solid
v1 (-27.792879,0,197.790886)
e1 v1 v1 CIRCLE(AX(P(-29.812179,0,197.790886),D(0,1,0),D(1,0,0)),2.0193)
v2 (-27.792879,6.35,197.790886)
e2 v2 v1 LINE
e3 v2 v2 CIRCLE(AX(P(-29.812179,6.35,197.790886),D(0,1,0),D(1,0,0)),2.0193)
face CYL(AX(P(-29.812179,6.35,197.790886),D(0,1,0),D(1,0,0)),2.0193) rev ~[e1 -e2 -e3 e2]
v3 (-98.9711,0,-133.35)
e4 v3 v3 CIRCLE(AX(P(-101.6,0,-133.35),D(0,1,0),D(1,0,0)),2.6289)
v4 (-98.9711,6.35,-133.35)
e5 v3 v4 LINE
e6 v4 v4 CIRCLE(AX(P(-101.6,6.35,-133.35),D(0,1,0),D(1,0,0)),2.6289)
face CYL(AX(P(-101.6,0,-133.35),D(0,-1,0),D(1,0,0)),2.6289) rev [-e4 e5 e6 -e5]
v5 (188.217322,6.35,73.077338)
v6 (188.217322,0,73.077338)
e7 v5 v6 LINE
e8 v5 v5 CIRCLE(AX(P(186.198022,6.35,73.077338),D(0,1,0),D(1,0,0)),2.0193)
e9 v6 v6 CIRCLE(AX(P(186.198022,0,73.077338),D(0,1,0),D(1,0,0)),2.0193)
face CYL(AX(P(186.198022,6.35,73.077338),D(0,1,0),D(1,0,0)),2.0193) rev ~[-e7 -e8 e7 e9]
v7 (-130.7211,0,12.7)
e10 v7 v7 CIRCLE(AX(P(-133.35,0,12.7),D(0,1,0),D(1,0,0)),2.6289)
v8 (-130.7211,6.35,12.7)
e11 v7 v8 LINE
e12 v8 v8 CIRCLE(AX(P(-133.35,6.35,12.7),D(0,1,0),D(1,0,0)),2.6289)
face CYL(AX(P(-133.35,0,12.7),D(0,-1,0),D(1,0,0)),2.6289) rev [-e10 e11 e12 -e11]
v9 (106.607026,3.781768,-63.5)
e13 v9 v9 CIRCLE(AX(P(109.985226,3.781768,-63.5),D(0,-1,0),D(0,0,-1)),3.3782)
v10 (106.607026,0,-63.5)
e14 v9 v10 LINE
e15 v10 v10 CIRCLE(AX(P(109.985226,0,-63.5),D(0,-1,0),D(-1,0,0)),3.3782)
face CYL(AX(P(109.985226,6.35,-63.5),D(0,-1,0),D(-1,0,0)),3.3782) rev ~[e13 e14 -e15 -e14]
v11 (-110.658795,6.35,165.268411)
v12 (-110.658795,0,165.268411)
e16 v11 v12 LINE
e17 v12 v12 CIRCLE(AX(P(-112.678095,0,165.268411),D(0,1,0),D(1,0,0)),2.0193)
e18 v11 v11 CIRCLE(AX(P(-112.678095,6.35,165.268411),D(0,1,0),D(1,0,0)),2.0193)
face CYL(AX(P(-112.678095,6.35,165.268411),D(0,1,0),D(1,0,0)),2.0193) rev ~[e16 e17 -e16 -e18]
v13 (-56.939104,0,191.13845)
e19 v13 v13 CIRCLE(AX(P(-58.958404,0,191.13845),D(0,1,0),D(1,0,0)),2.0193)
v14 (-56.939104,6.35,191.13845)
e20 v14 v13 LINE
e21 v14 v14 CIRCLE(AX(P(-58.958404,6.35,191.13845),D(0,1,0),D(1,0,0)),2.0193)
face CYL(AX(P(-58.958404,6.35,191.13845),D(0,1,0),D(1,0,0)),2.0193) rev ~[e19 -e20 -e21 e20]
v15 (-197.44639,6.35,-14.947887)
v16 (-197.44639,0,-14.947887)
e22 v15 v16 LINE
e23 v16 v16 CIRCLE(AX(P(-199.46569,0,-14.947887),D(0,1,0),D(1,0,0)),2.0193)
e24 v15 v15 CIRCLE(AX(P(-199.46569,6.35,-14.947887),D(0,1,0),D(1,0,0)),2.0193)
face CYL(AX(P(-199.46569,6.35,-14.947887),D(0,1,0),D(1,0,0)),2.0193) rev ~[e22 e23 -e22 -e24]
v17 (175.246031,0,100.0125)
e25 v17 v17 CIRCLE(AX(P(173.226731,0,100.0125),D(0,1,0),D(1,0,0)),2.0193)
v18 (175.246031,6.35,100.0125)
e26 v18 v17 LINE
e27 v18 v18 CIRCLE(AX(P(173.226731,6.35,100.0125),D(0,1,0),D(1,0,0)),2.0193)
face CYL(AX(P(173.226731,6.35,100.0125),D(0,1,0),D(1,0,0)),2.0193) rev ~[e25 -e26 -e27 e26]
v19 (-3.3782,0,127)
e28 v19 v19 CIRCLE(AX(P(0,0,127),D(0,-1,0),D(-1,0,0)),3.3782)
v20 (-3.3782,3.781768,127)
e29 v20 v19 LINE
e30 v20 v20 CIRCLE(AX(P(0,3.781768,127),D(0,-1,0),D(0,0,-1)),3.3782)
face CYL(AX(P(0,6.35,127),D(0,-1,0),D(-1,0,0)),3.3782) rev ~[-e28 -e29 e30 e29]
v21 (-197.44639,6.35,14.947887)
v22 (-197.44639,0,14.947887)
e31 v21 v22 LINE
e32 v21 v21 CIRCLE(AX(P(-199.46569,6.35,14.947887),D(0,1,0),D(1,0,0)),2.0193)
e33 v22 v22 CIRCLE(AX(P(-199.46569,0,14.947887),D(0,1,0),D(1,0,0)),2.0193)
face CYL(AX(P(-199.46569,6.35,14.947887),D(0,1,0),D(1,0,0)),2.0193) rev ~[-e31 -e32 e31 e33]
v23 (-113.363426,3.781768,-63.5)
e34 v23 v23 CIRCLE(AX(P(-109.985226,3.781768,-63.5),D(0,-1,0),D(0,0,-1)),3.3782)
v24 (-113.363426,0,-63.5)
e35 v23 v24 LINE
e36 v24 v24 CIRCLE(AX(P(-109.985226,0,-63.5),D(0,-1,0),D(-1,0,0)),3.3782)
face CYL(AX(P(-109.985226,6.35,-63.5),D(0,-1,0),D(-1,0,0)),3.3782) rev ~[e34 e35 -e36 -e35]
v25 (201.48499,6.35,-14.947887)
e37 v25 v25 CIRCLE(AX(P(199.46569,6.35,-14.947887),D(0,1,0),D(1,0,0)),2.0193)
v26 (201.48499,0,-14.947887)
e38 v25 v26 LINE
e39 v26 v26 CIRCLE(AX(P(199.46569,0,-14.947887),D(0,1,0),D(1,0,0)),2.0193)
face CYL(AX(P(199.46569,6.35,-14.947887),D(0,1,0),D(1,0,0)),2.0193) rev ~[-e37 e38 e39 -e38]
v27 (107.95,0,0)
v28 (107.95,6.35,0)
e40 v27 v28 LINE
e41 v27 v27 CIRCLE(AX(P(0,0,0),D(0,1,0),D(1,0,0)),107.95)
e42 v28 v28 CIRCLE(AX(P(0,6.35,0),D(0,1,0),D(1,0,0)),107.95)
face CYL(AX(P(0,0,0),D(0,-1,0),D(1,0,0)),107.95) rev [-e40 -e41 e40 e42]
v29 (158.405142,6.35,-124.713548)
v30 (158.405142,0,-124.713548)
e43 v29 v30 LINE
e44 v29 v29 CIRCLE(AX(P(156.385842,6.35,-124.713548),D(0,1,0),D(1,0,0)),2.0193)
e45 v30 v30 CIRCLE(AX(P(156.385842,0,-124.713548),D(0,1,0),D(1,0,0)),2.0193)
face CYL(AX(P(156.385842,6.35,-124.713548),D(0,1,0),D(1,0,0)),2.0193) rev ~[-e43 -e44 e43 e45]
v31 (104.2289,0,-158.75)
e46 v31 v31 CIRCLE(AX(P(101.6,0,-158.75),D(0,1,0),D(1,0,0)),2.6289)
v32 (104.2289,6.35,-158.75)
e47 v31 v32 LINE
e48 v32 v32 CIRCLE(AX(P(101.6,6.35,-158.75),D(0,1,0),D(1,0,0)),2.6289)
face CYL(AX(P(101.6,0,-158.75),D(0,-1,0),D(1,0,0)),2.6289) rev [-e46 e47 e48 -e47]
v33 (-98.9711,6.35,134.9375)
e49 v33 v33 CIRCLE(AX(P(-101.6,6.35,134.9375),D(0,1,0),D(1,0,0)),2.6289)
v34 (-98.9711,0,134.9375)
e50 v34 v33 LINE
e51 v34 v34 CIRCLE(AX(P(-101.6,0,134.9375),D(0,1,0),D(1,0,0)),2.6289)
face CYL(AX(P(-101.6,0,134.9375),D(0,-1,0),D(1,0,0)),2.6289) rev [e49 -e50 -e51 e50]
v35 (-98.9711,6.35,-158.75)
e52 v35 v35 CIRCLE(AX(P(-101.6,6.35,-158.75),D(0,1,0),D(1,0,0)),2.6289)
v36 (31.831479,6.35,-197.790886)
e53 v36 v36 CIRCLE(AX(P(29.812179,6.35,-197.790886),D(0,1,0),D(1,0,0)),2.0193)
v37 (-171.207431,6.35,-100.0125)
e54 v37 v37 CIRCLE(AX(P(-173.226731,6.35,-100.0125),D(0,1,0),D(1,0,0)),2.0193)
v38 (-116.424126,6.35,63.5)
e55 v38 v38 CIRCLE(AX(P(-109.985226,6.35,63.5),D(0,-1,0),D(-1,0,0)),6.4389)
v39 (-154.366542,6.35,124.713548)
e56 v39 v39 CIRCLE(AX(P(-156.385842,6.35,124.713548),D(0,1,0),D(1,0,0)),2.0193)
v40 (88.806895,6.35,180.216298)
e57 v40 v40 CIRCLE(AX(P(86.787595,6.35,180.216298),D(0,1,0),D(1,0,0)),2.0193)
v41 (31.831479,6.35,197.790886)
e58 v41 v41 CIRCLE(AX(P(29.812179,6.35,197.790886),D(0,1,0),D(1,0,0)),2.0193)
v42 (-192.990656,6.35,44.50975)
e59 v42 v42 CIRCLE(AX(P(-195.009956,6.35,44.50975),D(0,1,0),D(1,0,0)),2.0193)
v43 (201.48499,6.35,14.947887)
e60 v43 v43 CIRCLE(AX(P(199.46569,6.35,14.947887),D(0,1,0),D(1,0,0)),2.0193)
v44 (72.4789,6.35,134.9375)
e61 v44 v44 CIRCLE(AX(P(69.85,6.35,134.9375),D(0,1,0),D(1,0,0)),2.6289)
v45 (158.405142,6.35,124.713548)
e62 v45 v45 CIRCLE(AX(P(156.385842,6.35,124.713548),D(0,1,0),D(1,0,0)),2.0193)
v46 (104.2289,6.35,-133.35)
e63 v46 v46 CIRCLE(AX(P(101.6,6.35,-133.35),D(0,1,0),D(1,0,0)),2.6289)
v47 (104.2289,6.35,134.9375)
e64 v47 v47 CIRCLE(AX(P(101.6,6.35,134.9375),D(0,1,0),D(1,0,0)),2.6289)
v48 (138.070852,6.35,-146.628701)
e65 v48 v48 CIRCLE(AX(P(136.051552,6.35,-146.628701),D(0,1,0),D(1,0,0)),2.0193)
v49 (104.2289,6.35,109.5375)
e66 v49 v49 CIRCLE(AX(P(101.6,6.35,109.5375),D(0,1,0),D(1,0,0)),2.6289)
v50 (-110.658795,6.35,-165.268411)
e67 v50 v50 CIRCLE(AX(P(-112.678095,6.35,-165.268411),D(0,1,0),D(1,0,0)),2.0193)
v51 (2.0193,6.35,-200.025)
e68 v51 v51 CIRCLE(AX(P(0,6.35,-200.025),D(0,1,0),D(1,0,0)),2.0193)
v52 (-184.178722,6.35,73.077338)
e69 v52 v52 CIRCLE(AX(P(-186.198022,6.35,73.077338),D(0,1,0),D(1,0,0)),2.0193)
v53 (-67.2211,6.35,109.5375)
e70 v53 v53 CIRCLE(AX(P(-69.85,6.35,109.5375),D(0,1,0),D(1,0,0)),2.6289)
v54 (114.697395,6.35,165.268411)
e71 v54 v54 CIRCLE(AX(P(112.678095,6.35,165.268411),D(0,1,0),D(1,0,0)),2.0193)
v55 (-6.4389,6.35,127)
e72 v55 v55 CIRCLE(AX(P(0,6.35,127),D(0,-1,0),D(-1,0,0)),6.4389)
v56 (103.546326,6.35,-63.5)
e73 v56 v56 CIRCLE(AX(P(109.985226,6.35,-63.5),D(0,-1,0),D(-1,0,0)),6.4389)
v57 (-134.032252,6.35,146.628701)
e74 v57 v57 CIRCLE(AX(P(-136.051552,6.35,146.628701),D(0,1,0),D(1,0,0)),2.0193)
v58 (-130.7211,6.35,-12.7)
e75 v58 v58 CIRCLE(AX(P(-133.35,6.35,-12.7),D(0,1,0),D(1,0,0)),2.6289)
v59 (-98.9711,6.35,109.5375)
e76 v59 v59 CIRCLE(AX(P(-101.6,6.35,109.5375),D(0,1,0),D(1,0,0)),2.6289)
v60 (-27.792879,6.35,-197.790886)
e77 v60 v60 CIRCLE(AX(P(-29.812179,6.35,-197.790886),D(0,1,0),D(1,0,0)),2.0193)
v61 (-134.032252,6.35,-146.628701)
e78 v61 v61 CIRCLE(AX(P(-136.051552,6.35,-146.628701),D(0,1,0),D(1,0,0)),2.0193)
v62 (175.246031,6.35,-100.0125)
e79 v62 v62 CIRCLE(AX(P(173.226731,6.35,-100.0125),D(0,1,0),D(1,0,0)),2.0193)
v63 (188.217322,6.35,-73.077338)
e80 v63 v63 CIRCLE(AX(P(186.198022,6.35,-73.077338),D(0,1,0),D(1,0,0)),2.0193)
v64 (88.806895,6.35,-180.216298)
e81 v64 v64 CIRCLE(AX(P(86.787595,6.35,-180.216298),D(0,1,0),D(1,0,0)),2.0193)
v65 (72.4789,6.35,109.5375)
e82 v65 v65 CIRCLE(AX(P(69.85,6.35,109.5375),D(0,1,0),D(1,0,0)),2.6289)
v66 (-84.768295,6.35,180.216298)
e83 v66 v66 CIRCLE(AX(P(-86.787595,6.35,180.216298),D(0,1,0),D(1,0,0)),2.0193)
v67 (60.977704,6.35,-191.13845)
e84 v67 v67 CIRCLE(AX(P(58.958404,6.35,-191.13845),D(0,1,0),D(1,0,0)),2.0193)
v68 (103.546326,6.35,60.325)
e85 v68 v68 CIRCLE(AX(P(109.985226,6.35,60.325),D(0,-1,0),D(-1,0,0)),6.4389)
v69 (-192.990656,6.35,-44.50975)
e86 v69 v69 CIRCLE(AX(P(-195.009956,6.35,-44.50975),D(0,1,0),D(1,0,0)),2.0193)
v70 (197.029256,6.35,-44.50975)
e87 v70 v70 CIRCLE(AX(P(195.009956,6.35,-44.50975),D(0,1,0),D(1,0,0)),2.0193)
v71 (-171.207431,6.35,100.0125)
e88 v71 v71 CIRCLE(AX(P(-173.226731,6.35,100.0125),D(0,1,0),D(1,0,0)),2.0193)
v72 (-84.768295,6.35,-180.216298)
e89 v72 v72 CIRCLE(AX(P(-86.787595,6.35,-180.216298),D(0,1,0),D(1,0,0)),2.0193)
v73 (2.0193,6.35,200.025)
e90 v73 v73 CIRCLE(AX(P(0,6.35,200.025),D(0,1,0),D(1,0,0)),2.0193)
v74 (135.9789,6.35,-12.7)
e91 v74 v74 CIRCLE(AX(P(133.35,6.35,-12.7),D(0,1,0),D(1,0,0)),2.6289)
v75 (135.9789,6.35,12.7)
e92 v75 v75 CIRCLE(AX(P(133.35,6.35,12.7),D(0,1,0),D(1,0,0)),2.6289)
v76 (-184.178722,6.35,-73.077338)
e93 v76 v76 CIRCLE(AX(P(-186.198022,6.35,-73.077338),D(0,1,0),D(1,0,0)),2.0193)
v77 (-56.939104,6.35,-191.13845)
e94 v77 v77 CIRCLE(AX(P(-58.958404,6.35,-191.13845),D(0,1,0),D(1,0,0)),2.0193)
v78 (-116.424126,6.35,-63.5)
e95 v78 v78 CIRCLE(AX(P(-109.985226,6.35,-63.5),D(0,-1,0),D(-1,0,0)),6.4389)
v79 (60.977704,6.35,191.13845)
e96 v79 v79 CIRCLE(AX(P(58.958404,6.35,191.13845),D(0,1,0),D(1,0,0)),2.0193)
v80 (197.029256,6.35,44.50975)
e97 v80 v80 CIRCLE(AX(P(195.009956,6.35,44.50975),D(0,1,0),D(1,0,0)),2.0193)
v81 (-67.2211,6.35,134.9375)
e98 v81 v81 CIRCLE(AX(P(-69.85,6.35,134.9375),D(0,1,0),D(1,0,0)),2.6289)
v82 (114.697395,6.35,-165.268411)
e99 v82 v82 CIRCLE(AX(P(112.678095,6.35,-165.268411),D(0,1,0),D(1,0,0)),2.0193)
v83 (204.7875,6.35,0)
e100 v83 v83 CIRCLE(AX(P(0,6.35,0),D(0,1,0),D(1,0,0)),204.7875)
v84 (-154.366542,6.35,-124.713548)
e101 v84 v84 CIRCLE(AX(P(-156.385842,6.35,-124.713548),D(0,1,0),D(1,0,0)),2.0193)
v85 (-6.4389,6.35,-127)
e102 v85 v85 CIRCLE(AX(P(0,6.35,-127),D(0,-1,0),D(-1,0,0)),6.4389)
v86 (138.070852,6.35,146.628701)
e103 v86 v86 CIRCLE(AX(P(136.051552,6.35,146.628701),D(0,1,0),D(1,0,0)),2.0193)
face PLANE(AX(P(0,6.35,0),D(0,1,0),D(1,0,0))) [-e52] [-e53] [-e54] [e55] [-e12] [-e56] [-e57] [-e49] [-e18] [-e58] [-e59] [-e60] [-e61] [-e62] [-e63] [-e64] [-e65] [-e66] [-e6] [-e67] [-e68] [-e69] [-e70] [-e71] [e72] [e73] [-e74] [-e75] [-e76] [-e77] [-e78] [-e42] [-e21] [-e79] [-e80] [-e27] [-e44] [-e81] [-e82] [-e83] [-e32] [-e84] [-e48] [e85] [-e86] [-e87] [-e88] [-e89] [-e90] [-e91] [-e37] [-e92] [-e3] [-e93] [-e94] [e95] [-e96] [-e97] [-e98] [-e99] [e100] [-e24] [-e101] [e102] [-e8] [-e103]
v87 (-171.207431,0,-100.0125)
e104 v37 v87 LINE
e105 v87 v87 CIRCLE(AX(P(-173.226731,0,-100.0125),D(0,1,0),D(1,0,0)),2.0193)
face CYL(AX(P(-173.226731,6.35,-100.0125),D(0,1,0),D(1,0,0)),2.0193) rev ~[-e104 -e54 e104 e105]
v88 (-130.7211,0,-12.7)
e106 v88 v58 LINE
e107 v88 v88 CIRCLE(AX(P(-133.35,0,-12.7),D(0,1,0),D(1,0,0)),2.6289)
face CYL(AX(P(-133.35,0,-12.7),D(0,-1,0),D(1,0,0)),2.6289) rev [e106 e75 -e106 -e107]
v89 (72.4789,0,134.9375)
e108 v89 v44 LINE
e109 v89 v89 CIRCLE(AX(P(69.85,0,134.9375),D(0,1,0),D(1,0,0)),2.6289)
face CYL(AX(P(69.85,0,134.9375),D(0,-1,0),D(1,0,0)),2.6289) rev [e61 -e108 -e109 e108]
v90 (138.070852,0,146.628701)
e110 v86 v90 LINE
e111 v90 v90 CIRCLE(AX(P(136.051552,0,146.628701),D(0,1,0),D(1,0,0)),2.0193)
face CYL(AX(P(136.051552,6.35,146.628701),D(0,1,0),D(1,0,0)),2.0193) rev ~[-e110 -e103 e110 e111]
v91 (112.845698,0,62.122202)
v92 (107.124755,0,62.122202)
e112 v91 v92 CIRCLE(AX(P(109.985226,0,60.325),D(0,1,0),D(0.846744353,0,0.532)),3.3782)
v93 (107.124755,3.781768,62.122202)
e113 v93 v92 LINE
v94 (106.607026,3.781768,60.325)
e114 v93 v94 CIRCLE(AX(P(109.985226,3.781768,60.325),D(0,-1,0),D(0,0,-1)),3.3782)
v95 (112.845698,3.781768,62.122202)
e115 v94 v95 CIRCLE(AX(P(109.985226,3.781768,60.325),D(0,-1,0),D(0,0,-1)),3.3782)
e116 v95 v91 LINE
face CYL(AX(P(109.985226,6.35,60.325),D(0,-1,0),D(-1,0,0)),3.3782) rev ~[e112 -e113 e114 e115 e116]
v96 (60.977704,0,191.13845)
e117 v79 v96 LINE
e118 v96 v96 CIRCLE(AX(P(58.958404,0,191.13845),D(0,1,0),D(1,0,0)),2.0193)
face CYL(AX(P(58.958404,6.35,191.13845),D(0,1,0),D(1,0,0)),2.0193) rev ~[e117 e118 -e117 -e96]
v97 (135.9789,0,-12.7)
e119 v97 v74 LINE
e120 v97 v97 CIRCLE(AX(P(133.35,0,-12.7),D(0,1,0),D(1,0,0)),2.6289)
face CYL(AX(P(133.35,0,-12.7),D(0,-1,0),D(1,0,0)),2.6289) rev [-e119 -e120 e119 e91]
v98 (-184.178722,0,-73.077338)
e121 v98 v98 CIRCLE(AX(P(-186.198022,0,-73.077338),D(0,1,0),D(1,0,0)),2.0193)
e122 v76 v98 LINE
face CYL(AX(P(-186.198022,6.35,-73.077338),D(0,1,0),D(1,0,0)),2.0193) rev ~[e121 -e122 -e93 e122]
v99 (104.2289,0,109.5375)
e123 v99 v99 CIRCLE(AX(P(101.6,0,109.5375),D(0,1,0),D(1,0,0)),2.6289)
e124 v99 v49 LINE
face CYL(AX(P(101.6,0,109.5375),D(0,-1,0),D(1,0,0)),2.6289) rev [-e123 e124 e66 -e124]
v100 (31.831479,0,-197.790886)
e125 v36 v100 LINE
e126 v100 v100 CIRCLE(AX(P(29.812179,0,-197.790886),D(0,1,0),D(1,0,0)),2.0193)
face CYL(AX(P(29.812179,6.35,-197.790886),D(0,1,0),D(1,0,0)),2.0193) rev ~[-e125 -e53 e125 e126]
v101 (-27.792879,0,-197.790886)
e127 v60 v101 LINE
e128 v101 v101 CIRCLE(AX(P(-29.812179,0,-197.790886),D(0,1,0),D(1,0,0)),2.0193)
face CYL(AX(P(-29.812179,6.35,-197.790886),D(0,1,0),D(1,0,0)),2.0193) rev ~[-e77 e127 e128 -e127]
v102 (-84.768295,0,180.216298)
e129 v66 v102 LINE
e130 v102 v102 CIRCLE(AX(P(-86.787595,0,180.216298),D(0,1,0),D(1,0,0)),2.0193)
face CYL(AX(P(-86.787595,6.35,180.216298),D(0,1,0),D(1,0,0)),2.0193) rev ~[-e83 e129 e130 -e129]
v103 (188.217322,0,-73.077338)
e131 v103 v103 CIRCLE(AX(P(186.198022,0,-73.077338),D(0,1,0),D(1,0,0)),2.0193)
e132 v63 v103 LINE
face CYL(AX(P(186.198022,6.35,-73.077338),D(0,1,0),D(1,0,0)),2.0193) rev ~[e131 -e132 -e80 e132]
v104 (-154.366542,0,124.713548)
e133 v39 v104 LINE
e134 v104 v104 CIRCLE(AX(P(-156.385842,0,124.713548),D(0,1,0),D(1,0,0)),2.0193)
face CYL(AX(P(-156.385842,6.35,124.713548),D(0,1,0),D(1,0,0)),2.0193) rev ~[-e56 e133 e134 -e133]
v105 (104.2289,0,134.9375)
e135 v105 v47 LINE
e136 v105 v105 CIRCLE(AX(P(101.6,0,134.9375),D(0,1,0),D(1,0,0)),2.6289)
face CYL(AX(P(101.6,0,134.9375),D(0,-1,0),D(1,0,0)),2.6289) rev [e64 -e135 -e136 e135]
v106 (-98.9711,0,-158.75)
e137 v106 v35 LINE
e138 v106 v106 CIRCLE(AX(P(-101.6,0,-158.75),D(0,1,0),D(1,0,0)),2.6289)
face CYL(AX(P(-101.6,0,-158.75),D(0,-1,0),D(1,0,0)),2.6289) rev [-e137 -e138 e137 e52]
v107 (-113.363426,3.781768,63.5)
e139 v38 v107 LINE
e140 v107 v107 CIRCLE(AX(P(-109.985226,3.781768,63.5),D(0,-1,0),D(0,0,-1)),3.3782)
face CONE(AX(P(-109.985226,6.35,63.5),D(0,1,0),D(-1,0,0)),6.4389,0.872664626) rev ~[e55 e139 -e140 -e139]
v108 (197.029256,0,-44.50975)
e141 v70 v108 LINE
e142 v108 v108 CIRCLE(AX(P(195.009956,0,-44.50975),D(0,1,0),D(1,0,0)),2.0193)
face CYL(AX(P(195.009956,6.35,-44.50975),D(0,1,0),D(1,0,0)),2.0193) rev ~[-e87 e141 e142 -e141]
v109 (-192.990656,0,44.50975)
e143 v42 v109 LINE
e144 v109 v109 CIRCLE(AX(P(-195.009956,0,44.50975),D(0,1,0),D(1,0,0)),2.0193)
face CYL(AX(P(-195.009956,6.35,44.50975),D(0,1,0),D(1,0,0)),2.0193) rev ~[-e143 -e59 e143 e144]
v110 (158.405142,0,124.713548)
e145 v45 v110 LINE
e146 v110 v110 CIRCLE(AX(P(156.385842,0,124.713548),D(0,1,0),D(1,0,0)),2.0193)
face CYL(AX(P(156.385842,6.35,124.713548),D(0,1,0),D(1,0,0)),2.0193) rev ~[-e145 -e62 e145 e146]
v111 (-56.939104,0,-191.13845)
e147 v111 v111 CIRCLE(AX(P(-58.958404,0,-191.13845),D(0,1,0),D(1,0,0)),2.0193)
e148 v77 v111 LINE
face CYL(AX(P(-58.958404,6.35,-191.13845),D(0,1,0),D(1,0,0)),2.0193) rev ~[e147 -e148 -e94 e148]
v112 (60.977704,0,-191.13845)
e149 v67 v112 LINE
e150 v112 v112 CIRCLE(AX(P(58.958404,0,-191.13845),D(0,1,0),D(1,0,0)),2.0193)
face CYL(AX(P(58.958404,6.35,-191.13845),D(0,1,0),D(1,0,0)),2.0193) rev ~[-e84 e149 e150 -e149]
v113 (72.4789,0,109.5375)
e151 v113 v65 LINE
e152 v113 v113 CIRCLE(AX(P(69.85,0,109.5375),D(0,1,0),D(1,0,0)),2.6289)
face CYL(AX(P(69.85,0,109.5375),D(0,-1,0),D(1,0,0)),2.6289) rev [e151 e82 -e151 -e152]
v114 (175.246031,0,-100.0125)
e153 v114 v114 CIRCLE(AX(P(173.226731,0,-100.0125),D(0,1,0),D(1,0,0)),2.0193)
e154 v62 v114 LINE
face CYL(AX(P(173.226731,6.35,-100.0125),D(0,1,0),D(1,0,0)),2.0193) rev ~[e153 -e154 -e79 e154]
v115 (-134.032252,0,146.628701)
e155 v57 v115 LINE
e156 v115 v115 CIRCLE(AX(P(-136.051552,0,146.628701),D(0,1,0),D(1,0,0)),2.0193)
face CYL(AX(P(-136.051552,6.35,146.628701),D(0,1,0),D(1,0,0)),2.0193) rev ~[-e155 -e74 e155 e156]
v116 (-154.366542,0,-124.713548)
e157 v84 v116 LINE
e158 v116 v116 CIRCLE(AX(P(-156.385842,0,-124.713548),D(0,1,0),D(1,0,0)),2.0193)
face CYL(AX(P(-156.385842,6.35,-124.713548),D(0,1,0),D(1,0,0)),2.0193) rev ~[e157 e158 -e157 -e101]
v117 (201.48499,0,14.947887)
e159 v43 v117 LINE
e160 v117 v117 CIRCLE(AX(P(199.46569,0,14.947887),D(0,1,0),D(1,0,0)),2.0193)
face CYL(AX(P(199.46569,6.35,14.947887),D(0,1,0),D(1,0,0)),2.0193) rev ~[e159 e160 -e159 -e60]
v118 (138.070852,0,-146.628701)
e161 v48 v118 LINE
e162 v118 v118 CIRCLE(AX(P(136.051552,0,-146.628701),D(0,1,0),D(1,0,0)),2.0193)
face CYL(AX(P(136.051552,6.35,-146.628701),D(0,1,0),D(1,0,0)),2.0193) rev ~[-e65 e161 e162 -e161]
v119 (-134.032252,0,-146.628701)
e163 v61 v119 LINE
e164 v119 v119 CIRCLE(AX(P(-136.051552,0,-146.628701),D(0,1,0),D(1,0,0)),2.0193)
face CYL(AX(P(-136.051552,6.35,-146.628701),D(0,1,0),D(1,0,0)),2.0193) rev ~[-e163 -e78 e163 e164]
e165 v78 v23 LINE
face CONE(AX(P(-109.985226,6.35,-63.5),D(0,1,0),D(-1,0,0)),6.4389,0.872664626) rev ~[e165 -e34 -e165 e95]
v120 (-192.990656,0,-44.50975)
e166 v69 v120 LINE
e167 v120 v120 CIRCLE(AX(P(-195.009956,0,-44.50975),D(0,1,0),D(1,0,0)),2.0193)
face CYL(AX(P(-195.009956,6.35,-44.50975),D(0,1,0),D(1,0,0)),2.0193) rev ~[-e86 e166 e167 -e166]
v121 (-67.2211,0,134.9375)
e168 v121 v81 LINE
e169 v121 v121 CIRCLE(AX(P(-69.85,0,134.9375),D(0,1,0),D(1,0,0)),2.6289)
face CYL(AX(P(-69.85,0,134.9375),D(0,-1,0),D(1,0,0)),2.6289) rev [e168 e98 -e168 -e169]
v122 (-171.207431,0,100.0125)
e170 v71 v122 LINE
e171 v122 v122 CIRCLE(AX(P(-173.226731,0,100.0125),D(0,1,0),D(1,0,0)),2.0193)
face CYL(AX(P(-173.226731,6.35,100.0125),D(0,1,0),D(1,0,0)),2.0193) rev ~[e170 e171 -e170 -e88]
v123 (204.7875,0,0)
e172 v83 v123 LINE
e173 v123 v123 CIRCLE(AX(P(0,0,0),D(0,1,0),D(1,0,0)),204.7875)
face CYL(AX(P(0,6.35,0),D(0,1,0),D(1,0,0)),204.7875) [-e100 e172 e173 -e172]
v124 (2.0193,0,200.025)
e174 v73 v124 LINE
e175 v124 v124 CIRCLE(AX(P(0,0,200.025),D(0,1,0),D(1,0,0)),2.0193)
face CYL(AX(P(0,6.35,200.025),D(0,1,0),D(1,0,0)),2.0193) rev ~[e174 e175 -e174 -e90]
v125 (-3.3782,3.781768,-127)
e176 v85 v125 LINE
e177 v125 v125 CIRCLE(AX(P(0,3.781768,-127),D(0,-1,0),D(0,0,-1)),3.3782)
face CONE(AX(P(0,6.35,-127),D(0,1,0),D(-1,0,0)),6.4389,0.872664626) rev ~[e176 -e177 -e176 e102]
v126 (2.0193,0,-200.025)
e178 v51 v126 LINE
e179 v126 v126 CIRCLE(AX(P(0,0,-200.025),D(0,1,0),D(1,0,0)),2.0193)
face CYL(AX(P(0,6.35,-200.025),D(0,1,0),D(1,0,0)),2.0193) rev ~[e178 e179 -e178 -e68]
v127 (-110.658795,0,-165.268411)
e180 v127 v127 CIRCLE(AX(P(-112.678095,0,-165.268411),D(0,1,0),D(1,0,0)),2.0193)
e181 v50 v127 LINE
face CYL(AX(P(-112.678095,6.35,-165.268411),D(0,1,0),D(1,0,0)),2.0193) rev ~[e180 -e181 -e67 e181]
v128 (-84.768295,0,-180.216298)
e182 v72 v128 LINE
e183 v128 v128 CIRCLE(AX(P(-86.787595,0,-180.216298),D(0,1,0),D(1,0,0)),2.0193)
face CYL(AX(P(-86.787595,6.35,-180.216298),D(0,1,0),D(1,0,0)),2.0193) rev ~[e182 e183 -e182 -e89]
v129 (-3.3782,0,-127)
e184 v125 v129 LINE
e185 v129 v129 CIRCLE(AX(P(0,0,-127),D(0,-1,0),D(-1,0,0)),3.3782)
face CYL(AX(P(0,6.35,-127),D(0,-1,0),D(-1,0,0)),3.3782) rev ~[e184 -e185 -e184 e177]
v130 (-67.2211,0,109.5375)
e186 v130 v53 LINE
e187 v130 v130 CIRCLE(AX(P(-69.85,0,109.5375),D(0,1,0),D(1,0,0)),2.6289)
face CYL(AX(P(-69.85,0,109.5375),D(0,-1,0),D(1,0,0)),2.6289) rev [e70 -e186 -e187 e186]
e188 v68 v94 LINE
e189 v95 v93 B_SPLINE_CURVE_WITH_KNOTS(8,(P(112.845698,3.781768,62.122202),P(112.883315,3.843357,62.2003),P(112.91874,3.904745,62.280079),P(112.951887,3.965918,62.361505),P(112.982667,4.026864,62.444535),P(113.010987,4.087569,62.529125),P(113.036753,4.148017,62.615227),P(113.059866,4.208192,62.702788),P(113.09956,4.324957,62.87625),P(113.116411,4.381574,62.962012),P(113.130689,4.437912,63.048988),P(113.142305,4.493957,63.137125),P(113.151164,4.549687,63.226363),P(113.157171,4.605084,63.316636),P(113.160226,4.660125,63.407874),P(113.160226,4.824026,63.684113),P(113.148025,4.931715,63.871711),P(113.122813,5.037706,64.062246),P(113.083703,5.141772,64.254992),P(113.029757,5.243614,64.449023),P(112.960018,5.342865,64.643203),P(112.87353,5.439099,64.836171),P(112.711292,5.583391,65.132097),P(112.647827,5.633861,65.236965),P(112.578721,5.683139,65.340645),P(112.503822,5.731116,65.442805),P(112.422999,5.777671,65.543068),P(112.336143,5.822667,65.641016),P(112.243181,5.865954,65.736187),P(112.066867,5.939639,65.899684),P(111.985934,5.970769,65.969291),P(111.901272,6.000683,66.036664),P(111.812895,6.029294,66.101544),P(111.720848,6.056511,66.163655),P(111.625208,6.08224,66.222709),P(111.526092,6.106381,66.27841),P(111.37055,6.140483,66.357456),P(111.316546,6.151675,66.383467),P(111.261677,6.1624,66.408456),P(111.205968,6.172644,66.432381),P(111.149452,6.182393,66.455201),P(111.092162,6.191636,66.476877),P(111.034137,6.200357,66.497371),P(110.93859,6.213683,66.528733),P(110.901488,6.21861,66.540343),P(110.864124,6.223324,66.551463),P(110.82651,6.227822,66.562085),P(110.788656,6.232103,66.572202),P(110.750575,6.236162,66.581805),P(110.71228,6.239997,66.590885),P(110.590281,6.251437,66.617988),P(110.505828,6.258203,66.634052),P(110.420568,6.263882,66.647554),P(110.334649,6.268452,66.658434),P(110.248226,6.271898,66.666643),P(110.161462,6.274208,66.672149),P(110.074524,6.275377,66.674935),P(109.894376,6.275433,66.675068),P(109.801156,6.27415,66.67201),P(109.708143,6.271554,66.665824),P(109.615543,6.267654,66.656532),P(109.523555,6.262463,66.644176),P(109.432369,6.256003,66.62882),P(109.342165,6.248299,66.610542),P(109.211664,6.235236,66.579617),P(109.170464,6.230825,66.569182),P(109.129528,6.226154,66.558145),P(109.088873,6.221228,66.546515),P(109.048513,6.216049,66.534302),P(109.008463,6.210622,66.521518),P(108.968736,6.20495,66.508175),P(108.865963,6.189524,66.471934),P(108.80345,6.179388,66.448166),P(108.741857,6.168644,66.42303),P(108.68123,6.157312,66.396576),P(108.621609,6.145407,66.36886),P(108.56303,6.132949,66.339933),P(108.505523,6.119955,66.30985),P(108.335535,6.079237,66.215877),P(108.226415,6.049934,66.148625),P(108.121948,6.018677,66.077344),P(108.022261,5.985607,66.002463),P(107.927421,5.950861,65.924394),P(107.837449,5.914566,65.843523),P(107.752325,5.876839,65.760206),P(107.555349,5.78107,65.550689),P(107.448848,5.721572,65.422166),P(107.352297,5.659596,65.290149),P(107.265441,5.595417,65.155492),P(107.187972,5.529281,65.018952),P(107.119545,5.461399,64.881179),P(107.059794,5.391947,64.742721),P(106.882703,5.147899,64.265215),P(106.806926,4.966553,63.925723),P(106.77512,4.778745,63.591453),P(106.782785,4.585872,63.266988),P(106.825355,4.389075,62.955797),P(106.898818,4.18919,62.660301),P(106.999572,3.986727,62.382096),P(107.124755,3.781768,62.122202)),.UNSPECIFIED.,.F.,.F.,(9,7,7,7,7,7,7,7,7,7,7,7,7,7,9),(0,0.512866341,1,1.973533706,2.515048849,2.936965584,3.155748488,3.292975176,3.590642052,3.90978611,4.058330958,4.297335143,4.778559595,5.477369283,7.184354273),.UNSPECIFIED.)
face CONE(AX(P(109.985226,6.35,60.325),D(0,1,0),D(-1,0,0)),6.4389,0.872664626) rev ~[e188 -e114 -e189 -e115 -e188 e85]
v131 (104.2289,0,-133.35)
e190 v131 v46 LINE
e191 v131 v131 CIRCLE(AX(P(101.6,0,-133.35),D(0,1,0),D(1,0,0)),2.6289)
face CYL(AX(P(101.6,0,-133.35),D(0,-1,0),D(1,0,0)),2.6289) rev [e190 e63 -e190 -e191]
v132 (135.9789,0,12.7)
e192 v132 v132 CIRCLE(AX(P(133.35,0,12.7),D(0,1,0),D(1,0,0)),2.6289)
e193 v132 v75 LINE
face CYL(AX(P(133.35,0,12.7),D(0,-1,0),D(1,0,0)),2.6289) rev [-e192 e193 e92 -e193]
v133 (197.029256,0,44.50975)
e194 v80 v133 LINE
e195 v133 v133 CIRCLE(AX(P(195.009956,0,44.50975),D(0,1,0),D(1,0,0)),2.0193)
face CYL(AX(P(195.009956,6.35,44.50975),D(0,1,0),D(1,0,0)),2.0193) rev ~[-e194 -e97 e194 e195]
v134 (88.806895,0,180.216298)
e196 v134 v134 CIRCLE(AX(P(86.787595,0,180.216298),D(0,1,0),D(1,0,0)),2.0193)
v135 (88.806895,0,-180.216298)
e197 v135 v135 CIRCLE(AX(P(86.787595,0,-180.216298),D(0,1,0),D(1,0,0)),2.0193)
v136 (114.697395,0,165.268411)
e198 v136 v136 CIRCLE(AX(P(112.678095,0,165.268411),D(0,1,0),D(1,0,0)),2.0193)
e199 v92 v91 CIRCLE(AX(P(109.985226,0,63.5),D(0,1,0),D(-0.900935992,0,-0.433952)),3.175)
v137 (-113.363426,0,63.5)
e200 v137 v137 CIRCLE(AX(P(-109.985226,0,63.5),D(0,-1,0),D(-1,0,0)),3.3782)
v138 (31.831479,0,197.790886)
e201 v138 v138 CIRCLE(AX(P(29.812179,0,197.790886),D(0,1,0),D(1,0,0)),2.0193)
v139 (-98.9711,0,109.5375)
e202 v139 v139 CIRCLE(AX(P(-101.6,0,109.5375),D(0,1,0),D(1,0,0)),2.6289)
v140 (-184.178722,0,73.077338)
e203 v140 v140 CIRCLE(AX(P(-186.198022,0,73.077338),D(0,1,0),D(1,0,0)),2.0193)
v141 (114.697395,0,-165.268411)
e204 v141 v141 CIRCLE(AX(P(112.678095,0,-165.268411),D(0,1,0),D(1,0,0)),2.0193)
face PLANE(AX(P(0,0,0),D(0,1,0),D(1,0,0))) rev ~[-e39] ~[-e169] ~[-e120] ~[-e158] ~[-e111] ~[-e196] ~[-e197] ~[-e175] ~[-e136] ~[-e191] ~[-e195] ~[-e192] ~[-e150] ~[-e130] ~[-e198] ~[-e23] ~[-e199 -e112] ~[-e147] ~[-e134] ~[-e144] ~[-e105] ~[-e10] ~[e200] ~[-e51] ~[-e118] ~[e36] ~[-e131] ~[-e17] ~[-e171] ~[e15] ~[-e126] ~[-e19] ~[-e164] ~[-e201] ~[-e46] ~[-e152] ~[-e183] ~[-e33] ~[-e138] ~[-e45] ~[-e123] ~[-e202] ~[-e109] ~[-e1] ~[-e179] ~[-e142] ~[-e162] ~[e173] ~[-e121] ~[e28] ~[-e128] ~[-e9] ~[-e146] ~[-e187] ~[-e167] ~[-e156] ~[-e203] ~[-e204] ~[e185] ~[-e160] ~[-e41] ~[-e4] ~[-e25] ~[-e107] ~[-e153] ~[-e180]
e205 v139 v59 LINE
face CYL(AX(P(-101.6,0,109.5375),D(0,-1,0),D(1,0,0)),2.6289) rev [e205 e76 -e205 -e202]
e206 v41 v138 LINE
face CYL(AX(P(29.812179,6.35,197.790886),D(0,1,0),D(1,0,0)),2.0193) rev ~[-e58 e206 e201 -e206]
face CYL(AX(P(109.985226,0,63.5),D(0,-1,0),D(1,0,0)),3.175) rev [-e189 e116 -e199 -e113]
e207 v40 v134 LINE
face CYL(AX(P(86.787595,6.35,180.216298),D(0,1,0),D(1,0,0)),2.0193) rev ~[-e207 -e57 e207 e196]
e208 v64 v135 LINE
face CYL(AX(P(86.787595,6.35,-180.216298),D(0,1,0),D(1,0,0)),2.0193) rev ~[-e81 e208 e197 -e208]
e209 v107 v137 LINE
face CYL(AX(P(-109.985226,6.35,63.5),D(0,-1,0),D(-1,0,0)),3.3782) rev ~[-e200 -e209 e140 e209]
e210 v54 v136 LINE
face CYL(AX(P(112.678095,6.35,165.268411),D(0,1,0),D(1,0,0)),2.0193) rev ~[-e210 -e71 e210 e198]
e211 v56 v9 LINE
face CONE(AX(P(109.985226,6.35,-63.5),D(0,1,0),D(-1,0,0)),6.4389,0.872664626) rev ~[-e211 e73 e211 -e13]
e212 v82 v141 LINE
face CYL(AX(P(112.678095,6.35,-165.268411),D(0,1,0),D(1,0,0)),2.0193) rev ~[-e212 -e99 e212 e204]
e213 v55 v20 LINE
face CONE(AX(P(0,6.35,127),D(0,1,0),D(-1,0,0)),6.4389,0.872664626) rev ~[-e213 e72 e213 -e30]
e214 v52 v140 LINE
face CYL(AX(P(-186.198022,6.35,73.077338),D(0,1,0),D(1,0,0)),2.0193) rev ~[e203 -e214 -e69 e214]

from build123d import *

# Parameters (mm, degrees)
SKETCH1_R                                           = 196.85
SKETCH1_R_2                                         = 107.95
SKETCH1_R_3                                         = 2.6289
SKETCH1_R_4                                         = 3.175
BOSS_EXTRUDE1_DEPTH                                 = 6.35
SKETCH3_R                                           = 204.7875
SKETCH3_R_2                                         = 196.85
BOSS_EXTRUDE2_DEPTH                                 = 6.35
CSK_FOR_1_4_FLAT_HEAD_MACHINE_SCREW_100_D           = 6.7564
CSK_FOR_1_4_FLAT_HEAD_MACHINE_SCREW_100_DEPTH       = 25.4
CSK_FOR_1_4_FLAT_HEAD_MACHINE_SCREW_100_CSINK_D     = 12.8778
CSK_FOR_1_4_FLAT_HEAD_MACHINE_SCREW_100_CSINK_ANGLE = 100
CSK_FOR_1_4_FLAT_HEAD_MACHINE_SCREW_100_TIP         = 2.029827343
SKETCH10_R                                          = 2.0193
CUT_EXTRUDE1_DEPTH                                  = 7.3500001


with BuildPart() as part:
    # Sketch1 → Boss-Extrude1 (new body)
    with BuildSketch(Plane(origin=(0, 0, 0), x_dir=(1, 0, 0), z_dir=(0, 1, 0))):
        Circle(SKETCH1_R)
        Circle(SKETCH1_R_2, mode=Mode.SUBTRACT)
        with Locations((69.85, -109.5375)):
            Circle(SKETCH1_R_3, mode=Mode.SUBTRACT)
        with Locations((69.85, -134.9375)):
            Circle(SKETCH1_R_3, mode=Mode.SUBTRACT)
        with Locations((101.6, -109.5375)):
            Circle(SKETCH1_R_3, mode=Mode.SUBTRACT)
        with Locations((101.6, -134.9375)):
            Circle(SKETCH1_R_3, mode=Mode.SUBTRACT)
        with Locations((101.6, 133.35)):
            Circle(SKETCH1_R_3, mode=Mode.SUBTRACT)
        with Locations((101.6, 158.75)):
            Circle(SKETCH1_R_3, mode=Mode.SUBTRACT)
        with Locations((133.35, -12.7)):
            Circle(SKETCH1_R_3, mode=Mode.SUBTRACT)
        with Locations((133.35, 12.7)):
            Circle(SKETCH1_R_3, mode=Mode.SUBTRACT)
        with Locations((-69.85, -134.9375)):
            Circle(SKETCH1_R_3, mode=Mode.SUBTRACT)
        with Locations((-101.6, -134.9375)):
            Circle(SKETCH1_R_3, mode=Mode.SUBTRACT)
        with Locations((-101.6, -109.5375)):
            Circle(SKETCH1_R_3, mode=Mode.SUBTRACT)
        with Locations((-69.85, -109.5375)):
            Circle(SKETCH1_R_3, mode=Mode.SUBTRACT)
        with Locations((-133.35, -12.7)):
            Circle(SKETCH1_R_3, mode=Mode.SUBTRACT)
        with Locations((-133.35, 12.7)):
            Circle(SKETCH1_R_3, mode=Mode.SUBTRACT)
        with Locations((-101.6, 158.75)):
            Circle(SKETCH1_R_3, mode=Mode.SUBTRACT)
        with Locations((-101.6, 133.35)):
            Circle(SKETCH1_R_3, mode=Mode.SUBTRACT)
        with Locations((0, 127)):
            Circle(SKETCH1_R_4, mode=Mode.SUBTRACT)
        with Locations((109.985226281, 63.5)):
            Circle(SKETCH1_R_4, mode=Mode.SUBTRACT)
        with Locations((109.985226281, -63.5)):
            Circle(SKETCH1_R_4, mode=Mode.SUBTRACT)
        with Locations((0, -127)):
            Circle(SKETCH1_R_4, mode=Mode.SUBTRACT)
        with Locations((-109.985226281, -63.5)):
            Circle(SKETCH1_R_4, mode=Mode.SUBTRACT)
        with Locations((-109.985226281, 63.5)):
            Circle(SKETCH1_R_4, mode=Mode.SUBTRACT)
    extrude(amount=BOSS_EXTRUDE1_DEPTH)

    # Sketch3 → Boss-Extrude2 (add)
    with BuildSketch(Plane(origin=(0, 6.35, 0), x_dir=(1, 0, 0), z_dir=(0, 1, 0))):
        Circle(SKETCH3_R)
        Circle(SKETCH3_R_2, mode=Mode.SUBTRACT)
    extrude(amount=-BOSS_EXTRUDE2_DEPTH)

    # CSK for 1/4 Flat Head Machine Screw (100)1
    with Locations(Plane(origin=(0, 6.35, 0), x_dir=(1, 0, 0), z_dir=(0, 1, 0))):
        with Locations((0, 127), (-109.985226281, 63.5), (-109.985226281, -63.5), (0, -127), (109.985226281, -60.325), (109.985226281, 63.5)):
            CounterSinkHole(CSK_FOR_1_4_FLAT_HEAD_MACHINE_SCREW_100_D / 2, CSK_FOR_1_4_FLAT_HEAD_MACHINE_SCREW_100_CSINK_D / 2, depth=CSK_FOR_1_4_FLAT_HEAD_MACHINE_SCREW_100_DEPTH, counter_sink_angle=CSK_FOR_1_4_FLAT_HEAD_MACHINE_SCREW_100_CSINK_ANGLE)
            with Locations((0, 0, -(CSK_FOR_1_4_FLAT_HEAD_MACHINE_SCREW_100_DEPTH + CSK_FOR_1_4_FLAT_HEAD_MACHINE_SCREW_100_TIP / 2))):  # 118° drill point
                Cone(0, CSK_FOR_1_4_FLAT_HEAD_MACHINE_SCREW_100_D / 2, CSK_FOR_1_4_FLAT_HEAD_MACHINE_SCREW_100_TIP, mode=Mode.SUBTRACT)

    # Sketch10 → Cut-Extrude1 (cut, through all)
    with BuildSketch(Plane(origin=(0, 6.35, 0), x_dir=(1, 0, 0), z_dir=(0, 1, 0))):
        with Locations((0, 200.025)):
            Circle(SKETCH10_R)
        with Locations((29.812179292, 197.790886016)):
            Circle(SKETCH10_R)
        with Locations((58.958403762, 191.138450477)):
            Circle(SKETCH10_R)
        with Locations((86.787594917, 180.216297802)):
            Circle(SKETCH10_R)
        with Locations((112.678094614, 165.268410833)):
            Circle(SKETCH10_R)
        with Locations((136.051551873, 146.628700663)):
            Circle(SKETCH10_R)
        with Locations((156.385842281, 124.713547617)):
            Circle(SKETCH10_R)
        with Locations((173.226731392, 100.0125)):
            Circle(SKETCH10_R)
        with Locations((186.198021573, 73.077338399)):
            Circle(SKETCH10_R)
        with Locations((195.009955634, 44.509749815)):
            Circle(SKETCH10_R)
        with Locations((199.465689531, 14.94788697)):
            Circle(SKETCH10_R)
        with Locations((199.465689531, -14.94788697)):
            Circle(SKETCH10_R)
        with Locations((195.009955634, -44.509749815)):
            Circle(SKETCH10_R)
        with Locations((186.198021573, -73.077338399)):
            Circle(SKETCH10_R)
        with Locations((173.226731392, -100.0125)):
            Circle(SKETCH10_R)
        with Locations((156.385842281, -124.713547617)):
            Circle(SKETCH10_R)
        with Locations((136.051551873, -146.628700663)):
            Circle(SKETCH10_R)
        with Locations((112.678094614, -165.268410833)):
            Circle(SKETCH10_R)
        with Locations((86.787594917, -180.216297802)):
            Circle(SKETCH10_R)
        with Locations((58.958403762, -191.138450477)):
            Circle(SKETCH10_R)
        with Locations((29.812179292, -197.790886016)):
            Circle(SKETCH10_R)
        with Locations((0, -200.025)):
            Circle(SKETCH10_R)
        with Locations((-29.812179292, -197.790886016)):
            Circle(SKETCH10_R)
        with Locations((-58.958403762, -191.138450477)):
            Circle(SKETCH10_R)
        with Locations((-86.787594917, -180.216297802)):
            Circle(SKETCH10_R)
        with Locations((-112.678094614, -165.268410833)):
            Circle(SKETCH10_R)
        with Locations((-136.051551873, -146.628700663)):
            Circle(SKETCH10_R)
        with Locations((-156.385842281, -124.713547617)):
            Circle(SKETCH10_R)
        with Locations((-173.226731392, -100.0125)):
            Circle(SKETCH10_R)
        with Locations((-186.198021573, -73.077338399)):
            Circle(SKETCH10_R)
        with Locations((-195.009955634, -44.509749815)):
            Circle(SKETCH10_R)
        with Locations((-199.465689531, -14.94788697)):
            Circle(SKETCH10_R)
        with Locations((-199.465689531, 14.94788697)):
            Circle(SKETCH10_R)
        with Locations((-195.009955634, 44.509749815)):
            Circle(SKETCH10_R)
        with Locations((-186.198021573, 73.077338399)):
            Circle(SKETCH10_R)
        with Locations((-173.226731392, 100.0125)):
            Circle(SKETCH10_R)
        with Locations((-156.385842281, 124.713547617)):
            Circle(SKETCH10_R)
        with Locations((-136.051551873, 146.628700663)):
            Circle(SKETCH10_R)
        with Locations((-112.678094614, 165.268410833)):
            Circle(SKETCH10_R)
        with Locations((-86.787594917, 180.216297802)):
            Circle(SKETCH10_R)
        with Locations((-58.958403762, 191.138450477)):
            Circle(SKETCH10_R)
        with Locations((-29.812179292, 197.790886016)):
            Circle(SKETCH10_R)
    extrude(amount=-CUT_EXTRUDE1_DEPTH, mode=Mode.SUBTRACT)


solid = part.part
